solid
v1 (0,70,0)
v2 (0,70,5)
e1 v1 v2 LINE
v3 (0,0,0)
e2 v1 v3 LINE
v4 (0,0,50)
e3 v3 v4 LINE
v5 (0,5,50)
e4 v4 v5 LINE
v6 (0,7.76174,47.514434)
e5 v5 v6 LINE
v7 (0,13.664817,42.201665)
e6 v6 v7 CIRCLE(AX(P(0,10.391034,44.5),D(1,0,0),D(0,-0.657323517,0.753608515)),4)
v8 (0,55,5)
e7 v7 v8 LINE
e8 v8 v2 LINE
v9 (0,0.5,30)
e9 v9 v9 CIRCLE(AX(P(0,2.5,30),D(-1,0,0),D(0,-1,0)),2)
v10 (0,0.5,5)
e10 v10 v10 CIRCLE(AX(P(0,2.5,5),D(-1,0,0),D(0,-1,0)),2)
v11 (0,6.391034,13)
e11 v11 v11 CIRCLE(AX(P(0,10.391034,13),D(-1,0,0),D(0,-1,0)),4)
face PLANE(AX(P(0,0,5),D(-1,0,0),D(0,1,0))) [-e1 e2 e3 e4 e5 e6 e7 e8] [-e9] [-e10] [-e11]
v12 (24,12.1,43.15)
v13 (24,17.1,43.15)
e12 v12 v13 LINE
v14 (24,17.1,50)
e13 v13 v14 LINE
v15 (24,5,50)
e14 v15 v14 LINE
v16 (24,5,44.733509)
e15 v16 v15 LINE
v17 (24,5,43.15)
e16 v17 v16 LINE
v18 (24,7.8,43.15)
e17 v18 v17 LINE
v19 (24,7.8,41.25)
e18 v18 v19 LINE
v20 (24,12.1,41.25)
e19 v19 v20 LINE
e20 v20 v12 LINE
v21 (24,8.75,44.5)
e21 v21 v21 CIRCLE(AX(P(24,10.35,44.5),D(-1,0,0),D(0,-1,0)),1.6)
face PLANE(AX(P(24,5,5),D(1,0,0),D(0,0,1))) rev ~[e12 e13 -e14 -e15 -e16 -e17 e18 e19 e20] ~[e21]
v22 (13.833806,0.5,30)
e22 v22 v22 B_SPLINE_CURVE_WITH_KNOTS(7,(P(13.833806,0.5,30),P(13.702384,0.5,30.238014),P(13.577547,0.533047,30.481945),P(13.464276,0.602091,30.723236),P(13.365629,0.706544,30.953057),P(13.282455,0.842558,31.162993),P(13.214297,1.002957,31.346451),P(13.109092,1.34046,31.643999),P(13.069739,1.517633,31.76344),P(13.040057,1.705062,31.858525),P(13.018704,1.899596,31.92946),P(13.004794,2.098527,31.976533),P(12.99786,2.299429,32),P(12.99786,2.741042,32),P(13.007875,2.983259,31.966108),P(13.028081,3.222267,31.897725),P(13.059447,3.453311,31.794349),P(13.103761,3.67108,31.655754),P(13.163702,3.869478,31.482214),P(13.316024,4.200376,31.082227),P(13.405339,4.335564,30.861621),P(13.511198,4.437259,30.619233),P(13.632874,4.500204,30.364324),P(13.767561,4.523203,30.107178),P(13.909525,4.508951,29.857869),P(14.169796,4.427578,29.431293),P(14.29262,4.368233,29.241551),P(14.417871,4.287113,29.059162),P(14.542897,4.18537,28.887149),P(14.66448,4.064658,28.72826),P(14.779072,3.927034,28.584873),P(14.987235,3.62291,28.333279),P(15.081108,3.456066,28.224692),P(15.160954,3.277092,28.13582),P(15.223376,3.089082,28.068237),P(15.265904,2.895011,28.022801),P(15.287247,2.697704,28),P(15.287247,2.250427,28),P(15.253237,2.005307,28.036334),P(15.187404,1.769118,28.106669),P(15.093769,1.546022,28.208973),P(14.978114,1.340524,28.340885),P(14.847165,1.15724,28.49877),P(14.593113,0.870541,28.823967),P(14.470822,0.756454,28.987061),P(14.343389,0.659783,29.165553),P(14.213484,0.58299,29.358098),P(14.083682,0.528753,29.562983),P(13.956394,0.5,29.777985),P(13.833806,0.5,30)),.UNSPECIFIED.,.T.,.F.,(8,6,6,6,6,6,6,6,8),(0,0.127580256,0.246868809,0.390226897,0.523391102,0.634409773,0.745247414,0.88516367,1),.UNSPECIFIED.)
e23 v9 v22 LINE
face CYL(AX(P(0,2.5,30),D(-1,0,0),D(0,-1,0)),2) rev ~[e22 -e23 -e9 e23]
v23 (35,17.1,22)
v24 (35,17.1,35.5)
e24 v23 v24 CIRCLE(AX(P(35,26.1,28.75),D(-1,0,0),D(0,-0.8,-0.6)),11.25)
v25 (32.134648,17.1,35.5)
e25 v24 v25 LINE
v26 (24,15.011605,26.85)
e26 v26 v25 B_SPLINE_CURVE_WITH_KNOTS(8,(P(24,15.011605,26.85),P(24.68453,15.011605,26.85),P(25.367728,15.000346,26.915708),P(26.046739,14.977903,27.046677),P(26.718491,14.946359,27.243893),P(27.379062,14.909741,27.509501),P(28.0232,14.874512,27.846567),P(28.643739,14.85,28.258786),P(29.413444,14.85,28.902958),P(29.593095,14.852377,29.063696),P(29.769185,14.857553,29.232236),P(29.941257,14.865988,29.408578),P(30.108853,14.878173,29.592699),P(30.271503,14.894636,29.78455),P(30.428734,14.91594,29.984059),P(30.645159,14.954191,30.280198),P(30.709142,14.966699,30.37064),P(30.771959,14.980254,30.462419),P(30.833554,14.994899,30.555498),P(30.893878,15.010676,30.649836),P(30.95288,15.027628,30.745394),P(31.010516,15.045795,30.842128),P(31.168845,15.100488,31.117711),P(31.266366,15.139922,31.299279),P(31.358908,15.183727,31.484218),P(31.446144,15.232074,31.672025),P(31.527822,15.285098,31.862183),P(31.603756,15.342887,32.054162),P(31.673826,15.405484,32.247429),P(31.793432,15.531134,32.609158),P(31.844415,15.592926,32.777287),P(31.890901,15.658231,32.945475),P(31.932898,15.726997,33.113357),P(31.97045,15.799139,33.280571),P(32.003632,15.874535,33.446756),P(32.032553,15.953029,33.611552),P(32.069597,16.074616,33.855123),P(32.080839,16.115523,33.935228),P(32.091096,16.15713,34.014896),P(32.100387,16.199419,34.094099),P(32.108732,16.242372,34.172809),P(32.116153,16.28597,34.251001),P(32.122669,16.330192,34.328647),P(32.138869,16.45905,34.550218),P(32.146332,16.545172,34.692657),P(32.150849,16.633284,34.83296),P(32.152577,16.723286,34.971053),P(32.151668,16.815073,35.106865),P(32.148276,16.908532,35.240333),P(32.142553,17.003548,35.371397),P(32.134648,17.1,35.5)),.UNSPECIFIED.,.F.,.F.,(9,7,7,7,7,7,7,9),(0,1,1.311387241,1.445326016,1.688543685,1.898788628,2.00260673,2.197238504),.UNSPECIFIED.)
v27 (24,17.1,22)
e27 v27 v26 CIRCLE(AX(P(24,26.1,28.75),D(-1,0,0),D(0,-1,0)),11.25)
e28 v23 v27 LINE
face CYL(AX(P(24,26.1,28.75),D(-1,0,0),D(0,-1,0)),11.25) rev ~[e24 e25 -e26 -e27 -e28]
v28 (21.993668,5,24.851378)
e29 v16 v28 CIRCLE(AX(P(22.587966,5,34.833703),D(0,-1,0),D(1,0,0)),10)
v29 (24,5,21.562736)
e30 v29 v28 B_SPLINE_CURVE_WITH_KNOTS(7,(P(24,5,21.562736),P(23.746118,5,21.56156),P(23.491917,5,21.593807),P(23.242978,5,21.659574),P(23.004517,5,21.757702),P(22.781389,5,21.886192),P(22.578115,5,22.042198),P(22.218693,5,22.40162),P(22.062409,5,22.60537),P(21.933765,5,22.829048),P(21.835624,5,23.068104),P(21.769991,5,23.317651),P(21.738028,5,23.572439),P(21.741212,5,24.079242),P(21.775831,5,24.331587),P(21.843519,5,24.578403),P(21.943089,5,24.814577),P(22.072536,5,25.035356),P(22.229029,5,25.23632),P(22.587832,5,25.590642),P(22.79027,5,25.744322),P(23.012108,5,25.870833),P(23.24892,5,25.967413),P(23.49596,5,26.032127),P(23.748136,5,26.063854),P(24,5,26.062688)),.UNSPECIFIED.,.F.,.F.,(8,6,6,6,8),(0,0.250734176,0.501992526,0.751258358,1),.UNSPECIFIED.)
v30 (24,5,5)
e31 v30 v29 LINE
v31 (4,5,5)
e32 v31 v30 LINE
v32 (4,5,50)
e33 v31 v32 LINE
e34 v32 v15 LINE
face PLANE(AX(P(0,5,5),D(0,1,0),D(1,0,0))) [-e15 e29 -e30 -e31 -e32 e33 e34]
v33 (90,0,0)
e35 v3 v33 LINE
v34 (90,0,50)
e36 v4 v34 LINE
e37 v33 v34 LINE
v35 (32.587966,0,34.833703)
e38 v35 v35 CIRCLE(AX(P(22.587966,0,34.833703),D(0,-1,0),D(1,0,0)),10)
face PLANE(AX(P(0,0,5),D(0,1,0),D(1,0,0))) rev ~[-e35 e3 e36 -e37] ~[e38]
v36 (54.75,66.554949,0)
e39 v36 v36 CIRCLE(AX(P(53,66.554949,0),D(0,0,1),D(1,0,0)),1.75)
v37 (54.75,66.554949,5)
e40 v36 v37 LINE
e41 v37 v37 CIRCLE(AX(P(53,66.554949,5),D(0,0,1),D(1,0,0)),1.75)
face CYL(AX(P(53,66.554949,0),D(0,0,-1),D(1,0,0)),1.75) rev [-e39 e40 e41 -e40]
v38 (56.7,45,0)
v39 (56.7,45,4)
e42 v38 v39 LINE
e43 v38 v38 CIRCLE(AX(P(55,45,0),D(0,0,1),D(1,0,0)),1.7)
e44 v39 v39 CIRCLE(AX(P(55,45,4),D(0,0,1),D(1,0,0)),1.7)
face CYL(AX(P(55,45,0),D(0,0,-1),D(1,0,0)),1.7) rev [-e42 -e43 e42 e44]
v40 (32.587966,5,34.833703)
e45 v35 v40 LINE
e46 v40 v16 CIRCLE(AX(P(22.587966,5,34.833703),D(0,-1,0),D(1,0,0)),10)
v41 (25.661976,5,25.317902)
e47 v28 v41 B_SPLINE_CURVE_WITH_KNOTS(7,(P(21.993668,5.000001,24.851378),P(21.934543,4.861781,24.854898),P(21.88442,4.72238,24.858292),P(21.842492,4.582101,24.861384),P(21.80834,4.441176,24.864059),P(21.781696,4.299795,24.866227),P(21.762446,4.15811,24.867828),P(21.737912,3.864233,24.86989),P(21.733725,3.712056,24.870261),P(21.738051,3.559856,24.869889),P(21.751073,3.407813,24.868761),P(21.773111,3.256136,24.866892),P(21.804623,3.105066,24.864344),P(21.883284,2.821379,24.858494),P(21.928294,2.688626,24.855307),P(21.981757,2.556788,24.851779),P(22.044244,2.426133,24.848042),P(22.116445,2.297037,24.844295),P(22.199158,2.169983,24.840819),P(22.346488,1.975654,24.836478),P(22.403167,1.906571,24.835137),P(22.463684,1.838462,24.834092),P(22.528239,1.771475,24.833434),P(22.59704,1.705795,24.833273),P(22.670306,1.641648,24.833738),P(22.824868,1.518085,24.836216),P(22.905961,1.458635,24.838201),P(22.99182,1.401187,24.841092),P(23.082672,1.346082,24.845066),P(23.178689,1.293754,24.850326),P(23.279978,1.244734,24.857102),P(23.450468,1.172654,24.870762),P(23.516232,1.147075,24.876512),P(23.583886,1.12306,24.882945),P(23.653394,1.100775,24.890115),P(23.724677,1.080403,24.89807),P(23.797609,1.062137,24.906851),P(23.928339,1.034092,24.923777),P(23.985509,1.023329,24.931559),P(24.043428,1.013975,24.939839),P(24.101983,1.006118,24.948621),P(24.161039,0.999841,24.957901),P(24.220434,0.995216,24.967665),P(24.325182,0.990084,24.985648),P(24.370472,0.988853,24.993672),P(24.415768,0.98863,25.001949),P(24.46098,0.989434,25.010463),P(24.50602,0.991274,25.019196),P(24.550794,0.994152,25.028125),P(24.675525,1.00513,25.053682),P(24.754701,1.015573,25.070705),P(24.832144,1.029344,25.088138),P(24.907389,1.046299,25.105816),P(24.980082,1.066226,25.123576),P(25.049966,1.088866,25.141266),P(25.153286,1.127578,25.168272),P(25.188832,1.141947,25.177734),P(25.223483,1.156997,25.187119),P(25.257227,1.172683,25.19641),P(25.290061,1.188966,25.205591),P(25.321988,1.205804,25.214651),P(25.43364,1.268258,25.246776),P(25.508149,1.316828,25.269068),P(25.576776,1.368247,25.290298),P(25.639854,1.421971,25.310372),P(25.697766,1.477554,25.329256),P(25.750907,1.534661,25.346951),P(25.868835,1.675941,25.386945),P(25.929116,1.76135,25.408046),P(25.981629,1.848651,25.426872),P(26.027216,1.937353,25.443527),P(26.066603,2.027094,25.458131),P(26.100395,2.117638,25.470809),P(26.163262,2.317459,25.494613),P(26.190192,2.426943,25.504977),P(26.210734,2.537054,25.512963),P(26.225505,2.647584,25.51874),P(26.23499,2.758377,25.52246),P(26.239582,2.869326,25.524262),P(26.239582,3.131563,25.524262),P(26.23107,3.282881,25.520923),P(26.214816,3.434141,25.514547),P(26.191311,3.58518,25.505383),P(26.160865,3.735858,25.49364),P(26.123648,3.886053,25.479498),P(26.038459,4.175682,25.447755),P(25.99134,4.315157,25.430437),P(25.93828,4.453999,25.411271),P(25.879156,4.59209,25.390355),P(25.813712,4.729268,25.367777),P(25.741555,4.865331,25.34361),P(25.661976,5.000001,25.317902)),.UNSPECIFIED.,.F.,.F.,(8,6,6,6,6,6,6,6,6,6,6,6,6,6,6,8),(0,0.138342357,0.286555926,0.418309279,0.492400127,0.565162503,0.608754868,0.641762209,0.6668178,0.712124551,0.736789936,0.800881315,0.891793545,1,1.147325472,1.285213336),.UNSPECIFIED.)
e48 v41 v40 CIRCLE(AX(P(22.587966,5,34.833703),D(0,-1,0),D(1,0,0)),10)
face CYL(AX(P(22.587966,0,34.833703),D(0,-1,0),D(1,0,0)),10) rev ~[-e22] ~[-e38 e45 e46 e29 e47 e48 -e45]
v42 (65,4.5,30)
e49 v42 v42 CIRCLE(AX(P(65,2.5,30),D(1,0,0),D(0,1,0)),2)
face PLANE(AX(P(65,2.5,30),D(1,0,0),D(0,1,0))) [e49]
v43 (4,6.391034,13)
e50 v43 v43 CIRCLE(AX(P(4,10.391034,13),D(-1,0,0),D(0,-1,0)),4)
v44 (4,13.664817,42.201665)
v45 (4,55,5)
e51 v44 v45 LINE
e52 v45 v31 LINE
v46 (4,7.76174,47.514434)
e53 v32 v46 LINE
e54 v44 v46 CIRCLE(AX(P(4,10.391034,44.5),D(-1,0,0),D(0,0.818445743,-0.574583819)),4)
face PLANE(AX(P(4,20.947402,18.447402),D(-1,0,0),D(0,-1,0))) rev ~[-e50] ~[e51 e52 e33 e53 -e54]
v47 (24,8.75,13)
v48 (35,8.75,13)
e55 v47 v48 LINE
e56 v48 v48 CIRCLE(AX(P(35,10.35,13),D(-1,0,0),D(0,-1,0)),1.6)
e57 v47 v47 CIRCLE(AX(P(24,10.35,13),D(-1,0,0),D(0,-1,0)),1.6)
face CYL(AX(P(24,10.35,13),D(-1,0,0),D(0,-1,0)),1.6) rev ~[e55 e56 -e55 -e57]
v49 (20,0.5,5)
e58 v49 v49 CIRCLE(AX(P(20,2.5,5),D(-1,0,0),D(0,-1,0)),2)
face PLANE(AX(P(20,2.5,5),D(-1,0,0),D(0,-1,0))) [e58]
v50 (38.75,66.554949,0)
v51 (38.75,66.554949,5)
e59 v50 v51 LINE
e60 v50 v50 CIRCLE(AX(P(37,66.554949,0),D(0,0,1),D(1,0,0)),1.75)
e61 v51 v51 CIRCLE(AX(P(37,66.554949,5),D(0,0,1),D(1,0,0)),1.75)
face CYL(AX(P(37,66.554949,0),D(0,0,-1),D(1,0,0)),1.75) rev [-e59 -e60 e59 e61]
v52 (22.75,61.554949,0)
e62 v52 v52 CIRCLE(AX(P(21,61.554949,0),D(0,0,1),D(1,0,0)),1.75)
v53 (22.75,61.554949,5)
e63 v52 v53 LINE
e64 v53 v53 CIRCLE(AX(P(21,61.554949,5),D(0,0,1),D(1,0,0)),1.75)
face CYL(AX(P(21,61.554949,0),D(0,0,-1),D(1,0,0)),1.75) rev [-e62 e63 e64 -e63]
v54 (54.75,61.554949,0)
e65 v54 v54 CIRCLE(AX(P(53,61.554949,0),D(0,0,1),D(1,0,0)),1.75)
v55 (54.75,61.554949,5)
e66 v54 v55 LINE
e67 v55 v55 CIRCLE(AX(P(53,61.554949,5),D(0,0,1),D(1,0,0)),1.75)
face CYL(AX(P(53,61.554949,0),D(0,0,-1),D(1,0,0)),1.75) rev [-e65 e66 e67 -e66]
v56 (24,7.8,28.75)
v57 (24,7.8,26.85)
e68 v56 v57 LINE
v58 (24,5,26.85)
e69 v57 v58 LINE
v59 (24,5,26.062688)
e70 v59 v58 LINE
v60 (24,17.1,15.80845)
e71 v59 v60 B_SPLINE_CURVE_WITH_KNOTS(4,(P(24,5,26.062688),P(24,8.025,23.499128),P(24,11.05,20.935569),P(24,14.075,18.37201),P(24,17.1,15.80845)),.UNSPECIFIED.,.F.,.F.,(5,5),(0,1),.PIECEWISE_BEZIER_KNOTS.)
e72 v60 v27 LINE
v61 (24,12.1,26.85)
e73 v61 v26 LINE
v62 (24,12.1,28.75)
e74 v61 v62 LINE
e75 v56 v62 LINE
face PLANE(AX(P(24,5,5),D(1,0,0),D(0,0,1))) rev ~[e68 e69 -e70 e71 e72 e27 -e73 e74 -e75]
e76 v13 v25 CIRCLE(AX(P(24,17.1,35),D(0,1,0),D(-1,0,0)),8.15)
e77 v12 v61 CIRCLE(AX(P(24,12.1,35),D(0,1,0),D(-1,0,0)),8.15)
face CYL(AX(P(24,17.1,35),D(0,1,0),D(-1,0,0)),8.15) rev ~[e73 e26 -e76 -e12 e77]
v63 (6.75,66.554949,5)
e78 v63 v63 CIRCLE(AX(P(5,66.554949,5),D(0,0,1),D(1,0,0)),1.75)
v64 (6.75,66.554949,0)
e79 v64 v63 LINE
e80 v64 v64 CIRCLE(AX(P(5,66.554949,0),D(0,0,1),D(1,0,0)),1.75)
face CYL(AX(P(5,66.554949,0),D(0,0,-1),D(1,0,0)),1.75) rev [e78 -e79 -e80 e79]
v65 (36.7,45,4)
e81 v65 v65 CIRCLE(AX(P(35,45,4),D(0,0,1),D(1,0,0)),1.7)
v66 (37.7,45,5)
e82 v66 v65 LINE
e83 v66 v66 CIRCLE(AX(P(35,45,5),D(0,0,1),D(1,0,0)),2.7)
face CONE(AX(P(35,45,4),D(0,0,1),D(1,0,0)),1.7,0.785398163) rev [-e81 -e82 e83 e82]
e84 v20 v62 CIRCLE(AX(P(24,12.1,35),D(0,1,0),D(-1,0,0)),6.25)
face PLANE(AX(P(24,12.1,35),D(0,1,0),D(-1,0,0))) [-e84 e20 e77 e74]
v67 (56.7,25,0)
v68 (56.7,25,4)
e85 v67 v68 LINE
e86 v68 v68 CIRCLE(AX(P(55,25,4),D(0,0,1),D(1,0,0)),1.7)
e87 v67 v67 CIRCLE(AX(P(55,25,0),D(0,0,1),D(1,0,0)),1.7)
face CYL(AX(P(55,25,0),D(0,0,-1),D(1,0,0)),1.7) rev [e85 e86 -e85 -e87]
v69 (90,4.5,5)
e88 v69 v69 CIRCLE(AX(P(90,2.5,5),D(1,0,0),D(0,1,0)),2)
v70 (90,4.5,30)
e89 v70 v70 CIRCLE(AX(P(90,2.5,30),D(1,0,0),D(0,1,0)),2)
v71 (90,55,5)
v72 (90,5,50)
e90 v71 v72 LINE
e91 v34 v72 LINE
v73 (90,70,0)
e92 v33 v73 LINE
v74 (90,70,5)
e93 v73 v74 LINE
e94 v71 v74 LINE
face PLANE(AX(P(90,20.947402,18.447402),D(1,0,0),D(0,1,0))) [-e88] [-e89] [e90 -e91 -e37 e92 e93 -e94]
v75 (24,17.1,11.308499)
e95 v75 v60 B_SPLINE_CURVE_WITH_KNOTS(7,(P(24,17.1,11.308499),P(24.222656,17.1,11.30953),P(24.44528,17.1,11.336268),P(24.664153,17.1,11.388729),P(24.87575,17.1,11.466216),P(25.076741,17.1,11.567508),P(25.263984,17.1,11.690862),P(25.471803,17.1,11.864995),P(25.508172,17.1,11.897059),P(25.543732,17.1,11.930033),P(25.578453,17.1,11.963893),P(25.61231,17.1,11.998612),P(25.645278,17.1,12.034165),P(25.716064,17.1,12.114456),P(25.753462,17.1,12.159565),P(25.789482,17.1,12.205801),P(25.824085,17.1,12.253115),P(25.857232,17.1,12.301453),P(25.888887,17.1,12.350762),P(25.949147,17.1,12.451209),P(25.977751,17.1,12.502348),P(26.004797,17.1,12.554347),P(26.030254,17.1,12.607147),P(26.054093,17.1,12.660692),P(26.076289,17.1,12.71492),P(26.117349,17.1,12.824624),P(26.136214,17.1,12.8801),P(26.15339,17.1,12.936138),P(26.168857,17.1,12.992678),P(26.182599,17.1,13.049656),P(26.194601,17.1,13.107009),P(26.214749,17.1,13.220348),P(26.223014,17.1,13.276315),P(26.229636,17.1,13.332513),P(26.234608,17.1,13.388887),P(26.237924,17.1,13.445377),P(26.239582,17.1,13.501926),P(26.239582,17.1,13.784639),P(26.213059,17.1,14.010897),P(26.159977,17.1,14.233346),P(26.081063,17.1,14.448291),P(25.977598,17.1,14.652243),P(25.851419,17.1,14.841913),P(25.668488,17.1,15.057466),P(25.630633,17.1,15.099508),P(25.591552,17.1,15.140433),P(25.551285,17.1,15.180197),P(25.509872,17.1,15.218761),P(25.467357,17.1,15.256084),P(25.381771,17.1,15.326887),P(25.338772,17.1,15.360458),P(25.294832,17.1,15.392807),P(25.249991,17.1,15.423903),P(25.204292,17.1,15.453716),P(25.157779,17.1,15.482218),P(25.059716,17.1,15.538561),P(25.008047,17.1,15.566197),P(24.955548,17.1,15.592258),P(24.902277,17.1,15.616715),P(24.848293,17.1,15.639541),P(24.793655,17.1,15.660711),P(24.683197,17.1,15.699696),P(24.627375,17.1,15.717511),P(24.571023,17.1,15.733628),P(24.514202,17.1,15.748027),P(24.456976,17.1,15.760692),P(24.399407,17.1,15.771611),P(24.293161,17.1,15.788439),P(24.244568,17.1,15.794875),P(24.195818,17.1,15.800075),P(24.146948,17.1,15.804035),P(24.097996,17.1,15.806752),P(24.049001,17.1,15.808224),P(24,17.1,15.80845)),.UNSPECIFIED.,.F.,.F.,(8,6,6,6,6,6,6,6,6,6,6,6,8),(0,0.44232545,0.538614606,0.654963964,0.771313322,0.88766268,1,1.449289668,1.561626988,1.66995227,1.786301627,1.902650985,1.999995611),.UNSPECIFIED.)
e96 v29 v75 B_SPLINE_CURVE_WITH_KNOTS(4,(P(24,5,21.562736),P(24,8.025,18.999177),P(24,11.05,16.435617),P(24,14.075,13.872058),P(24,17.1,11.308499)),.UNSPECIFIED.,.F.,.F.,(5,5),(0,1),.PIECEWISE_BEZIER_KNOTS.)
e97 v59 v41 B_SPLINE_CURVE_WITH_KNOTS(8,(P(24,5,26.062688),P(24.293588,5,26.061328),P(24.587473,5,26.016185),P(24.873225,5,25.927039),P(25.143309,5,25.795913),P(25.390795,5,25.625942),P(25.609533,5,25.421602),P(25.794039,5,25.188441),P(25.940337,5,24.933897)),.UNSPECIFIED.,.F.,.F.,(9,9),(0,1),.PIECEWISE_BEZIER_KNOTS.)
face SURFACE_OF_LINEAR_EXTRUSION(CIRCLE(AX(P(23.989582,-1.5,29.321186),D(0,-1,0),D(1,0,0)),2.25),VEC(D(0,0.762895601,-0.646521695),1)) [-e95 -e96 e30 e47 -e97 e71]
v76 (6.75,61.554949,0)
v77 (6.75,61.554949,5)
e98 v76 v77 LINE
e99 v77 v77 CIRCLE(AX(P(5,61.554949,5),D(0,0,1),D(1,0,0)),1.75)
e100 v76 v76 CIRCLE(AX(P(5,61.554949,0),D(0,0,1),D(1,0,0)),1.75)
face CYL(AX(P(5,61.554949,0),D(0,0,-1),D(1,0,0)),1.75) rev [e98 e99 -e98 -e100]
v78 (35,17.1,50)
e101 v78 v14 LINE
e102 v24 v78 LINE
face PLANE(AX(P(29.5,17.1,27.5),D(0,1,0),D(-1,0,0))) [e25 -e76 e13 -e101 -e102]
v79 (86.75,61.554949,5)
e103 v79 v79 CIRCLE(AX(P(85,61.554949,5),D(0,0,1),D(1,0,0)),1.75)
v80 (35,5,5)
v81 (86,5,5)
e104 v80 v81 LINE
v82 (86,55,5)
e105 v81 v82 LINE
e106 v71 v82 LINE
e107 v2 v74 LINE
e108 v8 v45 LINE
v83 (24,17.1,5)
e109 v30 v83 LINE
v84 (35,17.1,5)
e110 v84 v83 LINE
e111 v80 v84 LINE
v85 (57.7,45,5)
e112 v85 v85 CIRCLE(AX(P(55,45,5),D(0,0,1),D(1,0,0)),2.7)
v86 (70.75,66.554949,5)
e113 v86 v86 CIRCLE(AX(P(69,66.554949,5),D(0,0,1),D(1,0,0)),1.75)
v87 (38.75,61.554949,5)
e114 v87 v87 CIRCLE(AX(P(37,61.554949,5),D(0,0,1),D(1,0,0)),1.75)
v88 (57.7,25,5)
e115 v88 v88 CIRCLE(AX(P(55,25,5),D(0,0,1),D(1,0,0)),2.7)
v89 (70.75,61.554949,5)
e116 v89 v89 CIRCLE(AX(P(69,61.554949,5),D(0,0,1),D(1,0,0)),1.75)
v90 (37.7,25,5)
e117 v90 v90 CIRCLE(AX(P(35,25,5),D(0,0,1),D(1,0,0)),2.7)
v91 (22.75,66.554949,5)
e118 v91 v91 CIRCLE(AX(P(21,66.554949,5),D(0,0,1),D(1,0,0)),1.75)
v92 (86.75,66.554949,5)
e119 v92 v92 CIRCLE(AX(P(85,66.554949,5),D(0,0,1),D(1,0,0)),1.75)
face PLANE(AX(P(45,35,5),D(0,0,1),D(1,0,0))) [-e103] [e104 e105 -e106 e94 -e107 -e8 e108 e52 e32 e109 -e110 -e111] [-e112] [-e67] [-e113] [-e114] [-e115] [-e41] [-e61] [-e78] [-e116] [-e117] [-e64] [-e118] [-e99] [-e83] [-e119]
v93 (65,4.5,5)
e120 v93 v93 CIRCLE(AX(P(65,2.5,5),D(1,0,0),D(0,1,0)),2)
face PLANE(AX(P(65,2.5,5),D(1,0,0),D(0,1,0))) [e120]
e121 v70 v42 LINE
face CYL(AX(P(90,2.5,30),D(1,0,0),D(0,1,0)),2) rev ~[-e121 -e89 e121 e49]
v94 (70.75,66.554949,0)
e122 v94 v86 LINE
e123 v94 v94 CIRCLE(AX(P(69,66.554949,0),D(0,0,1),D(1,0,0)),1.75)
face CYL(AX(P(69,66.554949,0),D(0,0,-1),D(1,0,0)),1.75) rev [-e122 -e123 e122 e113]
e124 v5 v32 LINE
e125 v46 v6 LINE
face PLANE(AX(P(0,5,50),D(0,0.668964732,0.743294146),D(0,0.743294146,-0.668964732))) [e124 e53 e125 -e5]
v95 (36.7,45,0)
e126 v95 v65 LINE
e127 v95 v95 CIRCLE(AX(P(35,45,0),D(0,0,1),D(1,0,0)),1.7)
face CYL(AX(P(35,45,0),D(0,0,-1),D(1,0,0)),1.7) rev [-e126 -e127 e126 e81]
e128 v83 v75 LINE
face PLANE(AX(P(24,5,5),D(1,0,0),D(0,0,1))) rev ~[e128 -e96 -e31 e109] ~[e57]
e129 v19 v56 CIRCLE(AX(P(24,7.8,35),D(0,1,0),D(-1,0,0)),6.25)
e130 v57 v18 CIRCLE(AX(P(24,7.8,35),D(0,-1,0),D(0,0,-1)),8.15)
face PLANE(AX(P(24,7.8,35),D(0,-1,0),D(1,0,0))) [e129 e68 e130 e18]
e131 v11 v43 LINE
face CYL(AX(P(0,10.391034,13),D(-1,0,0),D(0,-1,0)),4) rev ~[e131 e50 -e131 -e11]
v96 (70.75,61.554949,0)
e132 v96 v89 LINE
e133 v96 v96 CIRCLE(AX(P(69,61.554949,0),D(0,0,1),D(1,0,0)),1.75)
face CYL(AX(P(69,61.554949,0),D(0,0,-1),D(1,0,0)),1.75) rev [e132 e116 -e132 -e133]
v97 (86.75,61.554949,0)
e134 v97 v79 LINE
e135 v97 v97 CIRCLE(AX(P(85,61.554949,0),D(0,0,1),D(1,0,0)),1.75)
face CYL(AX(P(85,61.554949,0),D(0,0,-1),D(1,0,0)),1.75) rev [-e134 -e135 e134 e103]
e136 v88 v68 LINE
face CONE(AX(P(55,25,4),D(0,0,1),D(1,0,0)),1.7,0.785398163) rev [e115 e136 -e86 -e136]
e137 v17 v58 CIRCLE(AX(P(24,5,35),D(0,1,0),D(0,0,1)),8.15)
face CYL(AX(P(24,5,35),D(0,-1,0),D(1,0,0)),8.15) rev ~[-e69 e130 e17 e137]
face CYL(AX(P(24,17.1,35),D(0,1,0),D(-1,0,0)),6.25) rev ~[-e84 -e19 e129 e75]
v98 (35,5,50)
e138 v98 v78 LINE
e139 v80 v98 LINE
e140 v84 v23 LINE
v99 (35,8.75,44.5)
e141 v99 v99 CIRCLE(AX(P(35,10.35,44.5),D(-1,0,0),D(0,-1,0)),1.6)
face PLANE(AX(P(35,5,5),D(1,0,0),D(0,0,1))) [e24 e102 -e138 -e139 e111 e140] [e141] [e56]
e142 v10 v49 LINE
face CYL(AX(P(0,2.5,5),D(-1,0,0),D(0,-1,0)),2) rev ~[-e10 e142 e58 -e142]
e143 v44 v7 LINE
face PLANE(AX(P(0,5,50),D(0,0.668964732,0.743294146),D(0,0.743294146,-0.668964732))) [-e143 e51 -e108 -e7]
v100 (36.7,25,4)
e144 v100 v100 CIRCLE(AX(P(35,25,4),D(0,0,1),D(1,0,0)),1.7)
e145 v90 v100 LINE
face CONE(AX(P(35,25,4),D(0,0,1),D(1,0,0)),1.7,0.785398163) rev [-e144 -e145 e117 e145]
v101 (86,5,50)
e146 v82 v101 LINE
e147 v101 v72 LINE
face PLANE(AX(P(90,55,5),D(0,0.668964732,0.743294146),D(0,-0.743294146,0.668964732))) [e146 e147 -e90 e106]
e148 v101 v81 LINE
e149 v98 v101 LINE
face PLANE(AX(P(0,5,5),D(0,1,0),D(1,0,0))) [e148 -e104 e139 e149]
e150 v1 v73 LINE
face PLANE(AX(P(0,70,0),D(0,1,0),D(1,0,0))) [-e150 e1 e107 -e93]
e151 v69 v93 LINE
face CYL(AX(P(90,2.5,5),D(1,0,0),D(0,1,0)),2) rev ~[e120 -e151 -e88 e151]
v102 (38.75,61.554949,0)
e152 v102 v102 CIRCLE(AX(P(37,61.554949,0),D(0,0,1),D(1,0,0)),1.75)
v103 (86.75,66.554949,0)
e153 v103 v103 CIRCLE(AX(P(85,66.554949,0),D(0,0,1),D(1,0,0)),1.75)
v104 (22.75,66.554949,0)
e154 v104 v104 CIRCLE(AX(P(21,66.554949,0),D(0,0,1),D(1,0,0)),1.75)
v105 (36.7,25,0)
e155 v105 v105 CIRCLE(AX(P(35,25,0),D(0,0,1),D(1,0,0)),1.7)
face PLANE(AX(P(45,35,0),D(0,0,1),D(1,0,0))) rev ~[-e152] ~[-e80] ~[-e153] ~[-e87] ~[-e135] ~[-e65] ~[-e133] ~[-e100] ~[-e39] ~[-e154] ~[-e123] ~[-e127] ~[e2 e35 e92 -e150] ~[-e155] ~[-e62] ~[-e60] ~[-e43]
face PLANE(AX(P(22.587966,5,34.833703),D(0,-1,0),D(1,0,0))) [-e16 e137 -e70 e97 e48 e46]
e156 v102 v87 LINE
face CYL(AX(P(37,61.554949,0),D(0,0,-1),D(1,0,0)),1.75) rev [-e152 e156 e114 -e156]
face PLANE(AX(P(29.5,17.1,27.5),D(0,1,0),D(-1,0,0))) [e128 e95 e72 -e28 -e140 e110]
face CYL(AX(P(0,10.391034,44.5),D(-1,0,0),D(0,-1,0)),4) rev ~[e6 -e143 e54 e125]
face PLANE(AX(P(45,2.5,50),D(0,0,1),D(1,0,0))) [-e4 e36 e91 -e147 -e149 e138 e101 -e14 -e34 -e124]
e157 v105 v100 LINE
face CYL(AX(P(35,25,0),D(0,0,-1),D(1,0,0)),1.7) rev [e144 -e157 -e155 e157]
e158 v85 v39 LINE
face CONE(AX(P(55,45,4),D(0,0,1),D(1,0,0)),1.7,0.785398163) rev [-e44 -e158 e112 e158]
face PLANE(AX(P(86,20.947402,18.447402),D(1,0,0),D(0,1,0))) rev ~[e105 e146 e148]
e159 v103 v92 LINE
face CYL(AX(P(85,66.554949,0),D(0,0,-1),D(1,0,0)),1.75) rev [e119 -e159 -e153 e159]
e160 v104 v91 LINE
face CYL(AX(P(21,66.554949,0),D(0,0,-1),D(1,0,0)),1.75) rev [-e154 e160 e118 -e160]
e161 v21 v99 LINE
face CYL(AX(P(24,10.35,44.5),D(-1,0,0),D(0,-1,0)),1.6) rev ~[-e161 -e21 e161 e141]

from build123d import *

# Parameters (mm, degrees)
F0_W      = 90
F0_H      = 70
F0_R      = 1.7
F0_R_2    = 1.75
F1_DEPTH  = 5
F2_W      = 90
F2_H      = 5
F3_DEPTH  = 45
F4_W      = 11
F4_H      = 45
F5_DEPTH  = 12.1
F6_R      = 6.25
F7_DEPTH  = 25
F8_R      = 8.15
F9_DEPTH  = 5
F10_R     = 10
F11_DEPTH = 5
F12_R     = 8.15
F13_DEPTH = 2.8
F14_R     = 1.6
F14_R_2   = 11.25
F15_DEPTH = 25
F17_DEPTH = 4
F19_DEPTH = 4
F20_R     = 4
F21_DEPTH = 5
F22_R     = 2
F23_DEPTH = 20
F24_SIZE  = 1
F26_R     = 2.25
F28_R     = 2
F29_DEPTH = 25


with BuildPart() as f1:
    # F0 (on Top) → F1 (new body)
    with BuildSketch(Plane.XY):
        with Locations((45, 35)):
            Rectangle(F0_W, F0_H)
        with Locations((35, 25)):
            Circle(F0_R, mode=Mode.SUBTRACT)
        with Locations((55, 25)):
            Circle(F0_R, mode=Mode.SUBTRACT)
        with Locations((35, 45)):
            Circle(F0_R, mode=Mode.SUBTRACT)
        with Locations((5, 61.554949)):
            Circle(F0_R_2, mode=Mode.SUBTRACT)
        with Locations((5, 66.554949)):
            Circle(F0_R_2, mode=Mode.SUBTRACT)
        with Locations((21, 61.554949)):
            Circle(F0_R_2, mode=Mode.SUBTRACT)
        with Locations((21, 66.554949)):
            Circle(F0_R_2, mode=Mode.SUBTRACT)
        with Locations((37, 61.554949)):
            Circle(F0_R_2, mode=Mode.SUBTRACT)
        with Locations((37, 66.554949)):
            Circle(F0_R_2, mode=Mode.SUBTRACT)
        with Locations((55, 45)):
            Circle(F0_R, mode=Mode.SUBTRACT)
        with Locations((53, 61.554949)):
            Circle(F0_R_2, mode=Mode.SUBTRACT)
        with Locations((53, 66.554949)):
            Circle(F0_R_2, mode=Mode.SUBTRACT)
        with Locations((69, 61.554949)):
            Circle(F0_R_2, mode=Mode.SUBTRACT)
        with Locations((69, 66.554949)):
            Circle(F0_R_2, mode=Mode.SUBTRACT)
        with Locations((85, 61.554949)):
            Circle(F0_R_2, mode=Mode.SUBTRACT)
        with Locations((85, 66.554949)):
            Circle(F0_R_2, mode=Mode.SUBTRACT)
    extrude(amount=F1_DEPTH)

    # F2 (on face) → F3 (join)
    with BuildSketch(Plane.XY.offset(5)):
        with Locations((45, 2.5)):
            Rectangle(F2_W, F2_H)
    extrude(amount=F3_DEPTH)

    # F4 (on face) → F5 (join)
    with BuildSketch(Plane(origin=(0, 5, 0), x_dir=(-1, 0, 0), z_dir=(0, 1, 0))):
        with Locations((-29.5, 27.5)):
            Rectangle(F4_W, F4_H)
    extrude(amount=F5_DEPTH)

    # F6 (on face) → F7 (cut)
    with BuildSketch(Plane(origin=(0, 17.1, 0), x_dir=(-1, 0, 0), z_dir=(0, 1, 0))):
        with Locations((-24, 35)):
            Circle(F6_R)
    extrude(amount=-F7_DEPTH, mode=Mode.SUBTRACT)

    # F8 (on face) → F9 (cut)
    with BuildSketch(Plane(origin=(0, 17.1, 0), x_dir=(-1, 0, 0), z_dir=(0, 1, 0))):
        with Locations((-24, 35)):
            Circle(F8_R)
    extrude(amount=-F9_DEPTH, mode=Mode.SUBTRACT)

    # F10 (on face) → F11 (cut)
    with BuildSketch(Plane.XZ):
        with Locations((22.587966, 34.833703)):
            Circle(F10_R)
    extrude(amount=-F11_DEPTH, mode=Mode.SUBTRACT)

    # F12 (on face) → F13 (cut)
    with BuildSketch(Plane.XZ.offset(-5)):
        with Locations((24, 35)):
            Circle(F12_R)
    extrude(amount=-F13_DEPTH, mode=Mode.SUBTRACT)

    # F14 (on face) → F15 (cut)
    with BuildSketch(Plane(origin=(24, 0, 0), x_dir=(0, -1, 0), z_dir=(-1, 0, 0))):
        with Locations((-10.35, 44.5)):
            Circle(F14_R)
        with Locations((-10.35, 13)):
            Circle(F14_R)
        with Locations((-26.1, 28.75)):
            Circle(F14_R_2)
    extrude(amount=-F15_DEPTH, mode=Mode.SUBTRACT)

    # F16 (on face) → F17 (join)
    with BuildSketch(Plane(origin=(0, 0, 0), x_dir=(0, -1, 0), z_dir=(-1, 0, 0))):
        Polygon((0, 50), (-5, 50), (-55, 5), (-55, 0), (0, 0), align=None)
    extrude(amount=-F17_DEPTH)

    # F18 (on face) → F19 (join)
    with BuildSketch(Plane.YZ.offset(90)):
        Polygon((55, 5), (5, 50), (0, 50), (0, 0), (55, 0), align=None)
    extrude(amount=-F19_DEPTH)

    # F20 (on face) → F21 (cut)
    with BuildSketch(Plane(origin=(0, 0, 0), x_dir=(0, -1, 0), z_dir=(-1, 0, 0))):
        with Locations((-10.391034, 44.5)):
            Circle(F20_R)
        with Locations((-10.391034, 13)):
            Circle(F20_R)
    extrude(amount=-F21_DEPTH, mode=Mode.SUBTRACT)

    # F22 (on face) → F23 (cut)
    with BuildSketch(Plane(origin=(0, 0, 0), x_dir=(0, -1, 0), z_dir=(-1, 0, 0))):
        with Locations((-2.5, 5)):
            Circle(F22_R)
        with Locations((-2.5, 30)):
            Circle(F22_R)
    extrude(amount=-F23_DEPTH, mode=Mode.SUBTRACT)

    # F24
    f24_edges = [f1.edges().sort_by_distance(p)[0] for p in [
        (33.3, 45, 5),
        (53.3, 45, 5),
        (53.3, 25, 5),
        (33.3, 25, 5),
    ]]
    chamfer(f24_edges, length=F24_SIZE)

    # F27: sweep along a path in F25
    with BuildLine(Plane(origin=(24, 0, 0), x_dir=(0, -1, 0), z_dir=(-1, 0, 0))) as f27_path:
        Line((1.5, 28.5), (-22.1, 8.5))
    # F26 (on face) → F27 (sweep, cut)
    with BuildSketch(Plane.XZ):
        with Locations((23.989582, 28.05)):
            Circle(F26_R)
    sweep(path=f27_path.line, mode=Mode.SUBTRACT)

    # F28 (on face) → F29 (cut)
    with BuildSketch(Plane.YZ.offset(90)):
        with Locations((2.5, 5)):
            Circle(F28_R)
        with Locations((2.5, 30)):
            Circle(F28_R)
    extrude(amount=-F29_DEPTH, mode=Mode.SUBTRACT)


solid = f1.part
